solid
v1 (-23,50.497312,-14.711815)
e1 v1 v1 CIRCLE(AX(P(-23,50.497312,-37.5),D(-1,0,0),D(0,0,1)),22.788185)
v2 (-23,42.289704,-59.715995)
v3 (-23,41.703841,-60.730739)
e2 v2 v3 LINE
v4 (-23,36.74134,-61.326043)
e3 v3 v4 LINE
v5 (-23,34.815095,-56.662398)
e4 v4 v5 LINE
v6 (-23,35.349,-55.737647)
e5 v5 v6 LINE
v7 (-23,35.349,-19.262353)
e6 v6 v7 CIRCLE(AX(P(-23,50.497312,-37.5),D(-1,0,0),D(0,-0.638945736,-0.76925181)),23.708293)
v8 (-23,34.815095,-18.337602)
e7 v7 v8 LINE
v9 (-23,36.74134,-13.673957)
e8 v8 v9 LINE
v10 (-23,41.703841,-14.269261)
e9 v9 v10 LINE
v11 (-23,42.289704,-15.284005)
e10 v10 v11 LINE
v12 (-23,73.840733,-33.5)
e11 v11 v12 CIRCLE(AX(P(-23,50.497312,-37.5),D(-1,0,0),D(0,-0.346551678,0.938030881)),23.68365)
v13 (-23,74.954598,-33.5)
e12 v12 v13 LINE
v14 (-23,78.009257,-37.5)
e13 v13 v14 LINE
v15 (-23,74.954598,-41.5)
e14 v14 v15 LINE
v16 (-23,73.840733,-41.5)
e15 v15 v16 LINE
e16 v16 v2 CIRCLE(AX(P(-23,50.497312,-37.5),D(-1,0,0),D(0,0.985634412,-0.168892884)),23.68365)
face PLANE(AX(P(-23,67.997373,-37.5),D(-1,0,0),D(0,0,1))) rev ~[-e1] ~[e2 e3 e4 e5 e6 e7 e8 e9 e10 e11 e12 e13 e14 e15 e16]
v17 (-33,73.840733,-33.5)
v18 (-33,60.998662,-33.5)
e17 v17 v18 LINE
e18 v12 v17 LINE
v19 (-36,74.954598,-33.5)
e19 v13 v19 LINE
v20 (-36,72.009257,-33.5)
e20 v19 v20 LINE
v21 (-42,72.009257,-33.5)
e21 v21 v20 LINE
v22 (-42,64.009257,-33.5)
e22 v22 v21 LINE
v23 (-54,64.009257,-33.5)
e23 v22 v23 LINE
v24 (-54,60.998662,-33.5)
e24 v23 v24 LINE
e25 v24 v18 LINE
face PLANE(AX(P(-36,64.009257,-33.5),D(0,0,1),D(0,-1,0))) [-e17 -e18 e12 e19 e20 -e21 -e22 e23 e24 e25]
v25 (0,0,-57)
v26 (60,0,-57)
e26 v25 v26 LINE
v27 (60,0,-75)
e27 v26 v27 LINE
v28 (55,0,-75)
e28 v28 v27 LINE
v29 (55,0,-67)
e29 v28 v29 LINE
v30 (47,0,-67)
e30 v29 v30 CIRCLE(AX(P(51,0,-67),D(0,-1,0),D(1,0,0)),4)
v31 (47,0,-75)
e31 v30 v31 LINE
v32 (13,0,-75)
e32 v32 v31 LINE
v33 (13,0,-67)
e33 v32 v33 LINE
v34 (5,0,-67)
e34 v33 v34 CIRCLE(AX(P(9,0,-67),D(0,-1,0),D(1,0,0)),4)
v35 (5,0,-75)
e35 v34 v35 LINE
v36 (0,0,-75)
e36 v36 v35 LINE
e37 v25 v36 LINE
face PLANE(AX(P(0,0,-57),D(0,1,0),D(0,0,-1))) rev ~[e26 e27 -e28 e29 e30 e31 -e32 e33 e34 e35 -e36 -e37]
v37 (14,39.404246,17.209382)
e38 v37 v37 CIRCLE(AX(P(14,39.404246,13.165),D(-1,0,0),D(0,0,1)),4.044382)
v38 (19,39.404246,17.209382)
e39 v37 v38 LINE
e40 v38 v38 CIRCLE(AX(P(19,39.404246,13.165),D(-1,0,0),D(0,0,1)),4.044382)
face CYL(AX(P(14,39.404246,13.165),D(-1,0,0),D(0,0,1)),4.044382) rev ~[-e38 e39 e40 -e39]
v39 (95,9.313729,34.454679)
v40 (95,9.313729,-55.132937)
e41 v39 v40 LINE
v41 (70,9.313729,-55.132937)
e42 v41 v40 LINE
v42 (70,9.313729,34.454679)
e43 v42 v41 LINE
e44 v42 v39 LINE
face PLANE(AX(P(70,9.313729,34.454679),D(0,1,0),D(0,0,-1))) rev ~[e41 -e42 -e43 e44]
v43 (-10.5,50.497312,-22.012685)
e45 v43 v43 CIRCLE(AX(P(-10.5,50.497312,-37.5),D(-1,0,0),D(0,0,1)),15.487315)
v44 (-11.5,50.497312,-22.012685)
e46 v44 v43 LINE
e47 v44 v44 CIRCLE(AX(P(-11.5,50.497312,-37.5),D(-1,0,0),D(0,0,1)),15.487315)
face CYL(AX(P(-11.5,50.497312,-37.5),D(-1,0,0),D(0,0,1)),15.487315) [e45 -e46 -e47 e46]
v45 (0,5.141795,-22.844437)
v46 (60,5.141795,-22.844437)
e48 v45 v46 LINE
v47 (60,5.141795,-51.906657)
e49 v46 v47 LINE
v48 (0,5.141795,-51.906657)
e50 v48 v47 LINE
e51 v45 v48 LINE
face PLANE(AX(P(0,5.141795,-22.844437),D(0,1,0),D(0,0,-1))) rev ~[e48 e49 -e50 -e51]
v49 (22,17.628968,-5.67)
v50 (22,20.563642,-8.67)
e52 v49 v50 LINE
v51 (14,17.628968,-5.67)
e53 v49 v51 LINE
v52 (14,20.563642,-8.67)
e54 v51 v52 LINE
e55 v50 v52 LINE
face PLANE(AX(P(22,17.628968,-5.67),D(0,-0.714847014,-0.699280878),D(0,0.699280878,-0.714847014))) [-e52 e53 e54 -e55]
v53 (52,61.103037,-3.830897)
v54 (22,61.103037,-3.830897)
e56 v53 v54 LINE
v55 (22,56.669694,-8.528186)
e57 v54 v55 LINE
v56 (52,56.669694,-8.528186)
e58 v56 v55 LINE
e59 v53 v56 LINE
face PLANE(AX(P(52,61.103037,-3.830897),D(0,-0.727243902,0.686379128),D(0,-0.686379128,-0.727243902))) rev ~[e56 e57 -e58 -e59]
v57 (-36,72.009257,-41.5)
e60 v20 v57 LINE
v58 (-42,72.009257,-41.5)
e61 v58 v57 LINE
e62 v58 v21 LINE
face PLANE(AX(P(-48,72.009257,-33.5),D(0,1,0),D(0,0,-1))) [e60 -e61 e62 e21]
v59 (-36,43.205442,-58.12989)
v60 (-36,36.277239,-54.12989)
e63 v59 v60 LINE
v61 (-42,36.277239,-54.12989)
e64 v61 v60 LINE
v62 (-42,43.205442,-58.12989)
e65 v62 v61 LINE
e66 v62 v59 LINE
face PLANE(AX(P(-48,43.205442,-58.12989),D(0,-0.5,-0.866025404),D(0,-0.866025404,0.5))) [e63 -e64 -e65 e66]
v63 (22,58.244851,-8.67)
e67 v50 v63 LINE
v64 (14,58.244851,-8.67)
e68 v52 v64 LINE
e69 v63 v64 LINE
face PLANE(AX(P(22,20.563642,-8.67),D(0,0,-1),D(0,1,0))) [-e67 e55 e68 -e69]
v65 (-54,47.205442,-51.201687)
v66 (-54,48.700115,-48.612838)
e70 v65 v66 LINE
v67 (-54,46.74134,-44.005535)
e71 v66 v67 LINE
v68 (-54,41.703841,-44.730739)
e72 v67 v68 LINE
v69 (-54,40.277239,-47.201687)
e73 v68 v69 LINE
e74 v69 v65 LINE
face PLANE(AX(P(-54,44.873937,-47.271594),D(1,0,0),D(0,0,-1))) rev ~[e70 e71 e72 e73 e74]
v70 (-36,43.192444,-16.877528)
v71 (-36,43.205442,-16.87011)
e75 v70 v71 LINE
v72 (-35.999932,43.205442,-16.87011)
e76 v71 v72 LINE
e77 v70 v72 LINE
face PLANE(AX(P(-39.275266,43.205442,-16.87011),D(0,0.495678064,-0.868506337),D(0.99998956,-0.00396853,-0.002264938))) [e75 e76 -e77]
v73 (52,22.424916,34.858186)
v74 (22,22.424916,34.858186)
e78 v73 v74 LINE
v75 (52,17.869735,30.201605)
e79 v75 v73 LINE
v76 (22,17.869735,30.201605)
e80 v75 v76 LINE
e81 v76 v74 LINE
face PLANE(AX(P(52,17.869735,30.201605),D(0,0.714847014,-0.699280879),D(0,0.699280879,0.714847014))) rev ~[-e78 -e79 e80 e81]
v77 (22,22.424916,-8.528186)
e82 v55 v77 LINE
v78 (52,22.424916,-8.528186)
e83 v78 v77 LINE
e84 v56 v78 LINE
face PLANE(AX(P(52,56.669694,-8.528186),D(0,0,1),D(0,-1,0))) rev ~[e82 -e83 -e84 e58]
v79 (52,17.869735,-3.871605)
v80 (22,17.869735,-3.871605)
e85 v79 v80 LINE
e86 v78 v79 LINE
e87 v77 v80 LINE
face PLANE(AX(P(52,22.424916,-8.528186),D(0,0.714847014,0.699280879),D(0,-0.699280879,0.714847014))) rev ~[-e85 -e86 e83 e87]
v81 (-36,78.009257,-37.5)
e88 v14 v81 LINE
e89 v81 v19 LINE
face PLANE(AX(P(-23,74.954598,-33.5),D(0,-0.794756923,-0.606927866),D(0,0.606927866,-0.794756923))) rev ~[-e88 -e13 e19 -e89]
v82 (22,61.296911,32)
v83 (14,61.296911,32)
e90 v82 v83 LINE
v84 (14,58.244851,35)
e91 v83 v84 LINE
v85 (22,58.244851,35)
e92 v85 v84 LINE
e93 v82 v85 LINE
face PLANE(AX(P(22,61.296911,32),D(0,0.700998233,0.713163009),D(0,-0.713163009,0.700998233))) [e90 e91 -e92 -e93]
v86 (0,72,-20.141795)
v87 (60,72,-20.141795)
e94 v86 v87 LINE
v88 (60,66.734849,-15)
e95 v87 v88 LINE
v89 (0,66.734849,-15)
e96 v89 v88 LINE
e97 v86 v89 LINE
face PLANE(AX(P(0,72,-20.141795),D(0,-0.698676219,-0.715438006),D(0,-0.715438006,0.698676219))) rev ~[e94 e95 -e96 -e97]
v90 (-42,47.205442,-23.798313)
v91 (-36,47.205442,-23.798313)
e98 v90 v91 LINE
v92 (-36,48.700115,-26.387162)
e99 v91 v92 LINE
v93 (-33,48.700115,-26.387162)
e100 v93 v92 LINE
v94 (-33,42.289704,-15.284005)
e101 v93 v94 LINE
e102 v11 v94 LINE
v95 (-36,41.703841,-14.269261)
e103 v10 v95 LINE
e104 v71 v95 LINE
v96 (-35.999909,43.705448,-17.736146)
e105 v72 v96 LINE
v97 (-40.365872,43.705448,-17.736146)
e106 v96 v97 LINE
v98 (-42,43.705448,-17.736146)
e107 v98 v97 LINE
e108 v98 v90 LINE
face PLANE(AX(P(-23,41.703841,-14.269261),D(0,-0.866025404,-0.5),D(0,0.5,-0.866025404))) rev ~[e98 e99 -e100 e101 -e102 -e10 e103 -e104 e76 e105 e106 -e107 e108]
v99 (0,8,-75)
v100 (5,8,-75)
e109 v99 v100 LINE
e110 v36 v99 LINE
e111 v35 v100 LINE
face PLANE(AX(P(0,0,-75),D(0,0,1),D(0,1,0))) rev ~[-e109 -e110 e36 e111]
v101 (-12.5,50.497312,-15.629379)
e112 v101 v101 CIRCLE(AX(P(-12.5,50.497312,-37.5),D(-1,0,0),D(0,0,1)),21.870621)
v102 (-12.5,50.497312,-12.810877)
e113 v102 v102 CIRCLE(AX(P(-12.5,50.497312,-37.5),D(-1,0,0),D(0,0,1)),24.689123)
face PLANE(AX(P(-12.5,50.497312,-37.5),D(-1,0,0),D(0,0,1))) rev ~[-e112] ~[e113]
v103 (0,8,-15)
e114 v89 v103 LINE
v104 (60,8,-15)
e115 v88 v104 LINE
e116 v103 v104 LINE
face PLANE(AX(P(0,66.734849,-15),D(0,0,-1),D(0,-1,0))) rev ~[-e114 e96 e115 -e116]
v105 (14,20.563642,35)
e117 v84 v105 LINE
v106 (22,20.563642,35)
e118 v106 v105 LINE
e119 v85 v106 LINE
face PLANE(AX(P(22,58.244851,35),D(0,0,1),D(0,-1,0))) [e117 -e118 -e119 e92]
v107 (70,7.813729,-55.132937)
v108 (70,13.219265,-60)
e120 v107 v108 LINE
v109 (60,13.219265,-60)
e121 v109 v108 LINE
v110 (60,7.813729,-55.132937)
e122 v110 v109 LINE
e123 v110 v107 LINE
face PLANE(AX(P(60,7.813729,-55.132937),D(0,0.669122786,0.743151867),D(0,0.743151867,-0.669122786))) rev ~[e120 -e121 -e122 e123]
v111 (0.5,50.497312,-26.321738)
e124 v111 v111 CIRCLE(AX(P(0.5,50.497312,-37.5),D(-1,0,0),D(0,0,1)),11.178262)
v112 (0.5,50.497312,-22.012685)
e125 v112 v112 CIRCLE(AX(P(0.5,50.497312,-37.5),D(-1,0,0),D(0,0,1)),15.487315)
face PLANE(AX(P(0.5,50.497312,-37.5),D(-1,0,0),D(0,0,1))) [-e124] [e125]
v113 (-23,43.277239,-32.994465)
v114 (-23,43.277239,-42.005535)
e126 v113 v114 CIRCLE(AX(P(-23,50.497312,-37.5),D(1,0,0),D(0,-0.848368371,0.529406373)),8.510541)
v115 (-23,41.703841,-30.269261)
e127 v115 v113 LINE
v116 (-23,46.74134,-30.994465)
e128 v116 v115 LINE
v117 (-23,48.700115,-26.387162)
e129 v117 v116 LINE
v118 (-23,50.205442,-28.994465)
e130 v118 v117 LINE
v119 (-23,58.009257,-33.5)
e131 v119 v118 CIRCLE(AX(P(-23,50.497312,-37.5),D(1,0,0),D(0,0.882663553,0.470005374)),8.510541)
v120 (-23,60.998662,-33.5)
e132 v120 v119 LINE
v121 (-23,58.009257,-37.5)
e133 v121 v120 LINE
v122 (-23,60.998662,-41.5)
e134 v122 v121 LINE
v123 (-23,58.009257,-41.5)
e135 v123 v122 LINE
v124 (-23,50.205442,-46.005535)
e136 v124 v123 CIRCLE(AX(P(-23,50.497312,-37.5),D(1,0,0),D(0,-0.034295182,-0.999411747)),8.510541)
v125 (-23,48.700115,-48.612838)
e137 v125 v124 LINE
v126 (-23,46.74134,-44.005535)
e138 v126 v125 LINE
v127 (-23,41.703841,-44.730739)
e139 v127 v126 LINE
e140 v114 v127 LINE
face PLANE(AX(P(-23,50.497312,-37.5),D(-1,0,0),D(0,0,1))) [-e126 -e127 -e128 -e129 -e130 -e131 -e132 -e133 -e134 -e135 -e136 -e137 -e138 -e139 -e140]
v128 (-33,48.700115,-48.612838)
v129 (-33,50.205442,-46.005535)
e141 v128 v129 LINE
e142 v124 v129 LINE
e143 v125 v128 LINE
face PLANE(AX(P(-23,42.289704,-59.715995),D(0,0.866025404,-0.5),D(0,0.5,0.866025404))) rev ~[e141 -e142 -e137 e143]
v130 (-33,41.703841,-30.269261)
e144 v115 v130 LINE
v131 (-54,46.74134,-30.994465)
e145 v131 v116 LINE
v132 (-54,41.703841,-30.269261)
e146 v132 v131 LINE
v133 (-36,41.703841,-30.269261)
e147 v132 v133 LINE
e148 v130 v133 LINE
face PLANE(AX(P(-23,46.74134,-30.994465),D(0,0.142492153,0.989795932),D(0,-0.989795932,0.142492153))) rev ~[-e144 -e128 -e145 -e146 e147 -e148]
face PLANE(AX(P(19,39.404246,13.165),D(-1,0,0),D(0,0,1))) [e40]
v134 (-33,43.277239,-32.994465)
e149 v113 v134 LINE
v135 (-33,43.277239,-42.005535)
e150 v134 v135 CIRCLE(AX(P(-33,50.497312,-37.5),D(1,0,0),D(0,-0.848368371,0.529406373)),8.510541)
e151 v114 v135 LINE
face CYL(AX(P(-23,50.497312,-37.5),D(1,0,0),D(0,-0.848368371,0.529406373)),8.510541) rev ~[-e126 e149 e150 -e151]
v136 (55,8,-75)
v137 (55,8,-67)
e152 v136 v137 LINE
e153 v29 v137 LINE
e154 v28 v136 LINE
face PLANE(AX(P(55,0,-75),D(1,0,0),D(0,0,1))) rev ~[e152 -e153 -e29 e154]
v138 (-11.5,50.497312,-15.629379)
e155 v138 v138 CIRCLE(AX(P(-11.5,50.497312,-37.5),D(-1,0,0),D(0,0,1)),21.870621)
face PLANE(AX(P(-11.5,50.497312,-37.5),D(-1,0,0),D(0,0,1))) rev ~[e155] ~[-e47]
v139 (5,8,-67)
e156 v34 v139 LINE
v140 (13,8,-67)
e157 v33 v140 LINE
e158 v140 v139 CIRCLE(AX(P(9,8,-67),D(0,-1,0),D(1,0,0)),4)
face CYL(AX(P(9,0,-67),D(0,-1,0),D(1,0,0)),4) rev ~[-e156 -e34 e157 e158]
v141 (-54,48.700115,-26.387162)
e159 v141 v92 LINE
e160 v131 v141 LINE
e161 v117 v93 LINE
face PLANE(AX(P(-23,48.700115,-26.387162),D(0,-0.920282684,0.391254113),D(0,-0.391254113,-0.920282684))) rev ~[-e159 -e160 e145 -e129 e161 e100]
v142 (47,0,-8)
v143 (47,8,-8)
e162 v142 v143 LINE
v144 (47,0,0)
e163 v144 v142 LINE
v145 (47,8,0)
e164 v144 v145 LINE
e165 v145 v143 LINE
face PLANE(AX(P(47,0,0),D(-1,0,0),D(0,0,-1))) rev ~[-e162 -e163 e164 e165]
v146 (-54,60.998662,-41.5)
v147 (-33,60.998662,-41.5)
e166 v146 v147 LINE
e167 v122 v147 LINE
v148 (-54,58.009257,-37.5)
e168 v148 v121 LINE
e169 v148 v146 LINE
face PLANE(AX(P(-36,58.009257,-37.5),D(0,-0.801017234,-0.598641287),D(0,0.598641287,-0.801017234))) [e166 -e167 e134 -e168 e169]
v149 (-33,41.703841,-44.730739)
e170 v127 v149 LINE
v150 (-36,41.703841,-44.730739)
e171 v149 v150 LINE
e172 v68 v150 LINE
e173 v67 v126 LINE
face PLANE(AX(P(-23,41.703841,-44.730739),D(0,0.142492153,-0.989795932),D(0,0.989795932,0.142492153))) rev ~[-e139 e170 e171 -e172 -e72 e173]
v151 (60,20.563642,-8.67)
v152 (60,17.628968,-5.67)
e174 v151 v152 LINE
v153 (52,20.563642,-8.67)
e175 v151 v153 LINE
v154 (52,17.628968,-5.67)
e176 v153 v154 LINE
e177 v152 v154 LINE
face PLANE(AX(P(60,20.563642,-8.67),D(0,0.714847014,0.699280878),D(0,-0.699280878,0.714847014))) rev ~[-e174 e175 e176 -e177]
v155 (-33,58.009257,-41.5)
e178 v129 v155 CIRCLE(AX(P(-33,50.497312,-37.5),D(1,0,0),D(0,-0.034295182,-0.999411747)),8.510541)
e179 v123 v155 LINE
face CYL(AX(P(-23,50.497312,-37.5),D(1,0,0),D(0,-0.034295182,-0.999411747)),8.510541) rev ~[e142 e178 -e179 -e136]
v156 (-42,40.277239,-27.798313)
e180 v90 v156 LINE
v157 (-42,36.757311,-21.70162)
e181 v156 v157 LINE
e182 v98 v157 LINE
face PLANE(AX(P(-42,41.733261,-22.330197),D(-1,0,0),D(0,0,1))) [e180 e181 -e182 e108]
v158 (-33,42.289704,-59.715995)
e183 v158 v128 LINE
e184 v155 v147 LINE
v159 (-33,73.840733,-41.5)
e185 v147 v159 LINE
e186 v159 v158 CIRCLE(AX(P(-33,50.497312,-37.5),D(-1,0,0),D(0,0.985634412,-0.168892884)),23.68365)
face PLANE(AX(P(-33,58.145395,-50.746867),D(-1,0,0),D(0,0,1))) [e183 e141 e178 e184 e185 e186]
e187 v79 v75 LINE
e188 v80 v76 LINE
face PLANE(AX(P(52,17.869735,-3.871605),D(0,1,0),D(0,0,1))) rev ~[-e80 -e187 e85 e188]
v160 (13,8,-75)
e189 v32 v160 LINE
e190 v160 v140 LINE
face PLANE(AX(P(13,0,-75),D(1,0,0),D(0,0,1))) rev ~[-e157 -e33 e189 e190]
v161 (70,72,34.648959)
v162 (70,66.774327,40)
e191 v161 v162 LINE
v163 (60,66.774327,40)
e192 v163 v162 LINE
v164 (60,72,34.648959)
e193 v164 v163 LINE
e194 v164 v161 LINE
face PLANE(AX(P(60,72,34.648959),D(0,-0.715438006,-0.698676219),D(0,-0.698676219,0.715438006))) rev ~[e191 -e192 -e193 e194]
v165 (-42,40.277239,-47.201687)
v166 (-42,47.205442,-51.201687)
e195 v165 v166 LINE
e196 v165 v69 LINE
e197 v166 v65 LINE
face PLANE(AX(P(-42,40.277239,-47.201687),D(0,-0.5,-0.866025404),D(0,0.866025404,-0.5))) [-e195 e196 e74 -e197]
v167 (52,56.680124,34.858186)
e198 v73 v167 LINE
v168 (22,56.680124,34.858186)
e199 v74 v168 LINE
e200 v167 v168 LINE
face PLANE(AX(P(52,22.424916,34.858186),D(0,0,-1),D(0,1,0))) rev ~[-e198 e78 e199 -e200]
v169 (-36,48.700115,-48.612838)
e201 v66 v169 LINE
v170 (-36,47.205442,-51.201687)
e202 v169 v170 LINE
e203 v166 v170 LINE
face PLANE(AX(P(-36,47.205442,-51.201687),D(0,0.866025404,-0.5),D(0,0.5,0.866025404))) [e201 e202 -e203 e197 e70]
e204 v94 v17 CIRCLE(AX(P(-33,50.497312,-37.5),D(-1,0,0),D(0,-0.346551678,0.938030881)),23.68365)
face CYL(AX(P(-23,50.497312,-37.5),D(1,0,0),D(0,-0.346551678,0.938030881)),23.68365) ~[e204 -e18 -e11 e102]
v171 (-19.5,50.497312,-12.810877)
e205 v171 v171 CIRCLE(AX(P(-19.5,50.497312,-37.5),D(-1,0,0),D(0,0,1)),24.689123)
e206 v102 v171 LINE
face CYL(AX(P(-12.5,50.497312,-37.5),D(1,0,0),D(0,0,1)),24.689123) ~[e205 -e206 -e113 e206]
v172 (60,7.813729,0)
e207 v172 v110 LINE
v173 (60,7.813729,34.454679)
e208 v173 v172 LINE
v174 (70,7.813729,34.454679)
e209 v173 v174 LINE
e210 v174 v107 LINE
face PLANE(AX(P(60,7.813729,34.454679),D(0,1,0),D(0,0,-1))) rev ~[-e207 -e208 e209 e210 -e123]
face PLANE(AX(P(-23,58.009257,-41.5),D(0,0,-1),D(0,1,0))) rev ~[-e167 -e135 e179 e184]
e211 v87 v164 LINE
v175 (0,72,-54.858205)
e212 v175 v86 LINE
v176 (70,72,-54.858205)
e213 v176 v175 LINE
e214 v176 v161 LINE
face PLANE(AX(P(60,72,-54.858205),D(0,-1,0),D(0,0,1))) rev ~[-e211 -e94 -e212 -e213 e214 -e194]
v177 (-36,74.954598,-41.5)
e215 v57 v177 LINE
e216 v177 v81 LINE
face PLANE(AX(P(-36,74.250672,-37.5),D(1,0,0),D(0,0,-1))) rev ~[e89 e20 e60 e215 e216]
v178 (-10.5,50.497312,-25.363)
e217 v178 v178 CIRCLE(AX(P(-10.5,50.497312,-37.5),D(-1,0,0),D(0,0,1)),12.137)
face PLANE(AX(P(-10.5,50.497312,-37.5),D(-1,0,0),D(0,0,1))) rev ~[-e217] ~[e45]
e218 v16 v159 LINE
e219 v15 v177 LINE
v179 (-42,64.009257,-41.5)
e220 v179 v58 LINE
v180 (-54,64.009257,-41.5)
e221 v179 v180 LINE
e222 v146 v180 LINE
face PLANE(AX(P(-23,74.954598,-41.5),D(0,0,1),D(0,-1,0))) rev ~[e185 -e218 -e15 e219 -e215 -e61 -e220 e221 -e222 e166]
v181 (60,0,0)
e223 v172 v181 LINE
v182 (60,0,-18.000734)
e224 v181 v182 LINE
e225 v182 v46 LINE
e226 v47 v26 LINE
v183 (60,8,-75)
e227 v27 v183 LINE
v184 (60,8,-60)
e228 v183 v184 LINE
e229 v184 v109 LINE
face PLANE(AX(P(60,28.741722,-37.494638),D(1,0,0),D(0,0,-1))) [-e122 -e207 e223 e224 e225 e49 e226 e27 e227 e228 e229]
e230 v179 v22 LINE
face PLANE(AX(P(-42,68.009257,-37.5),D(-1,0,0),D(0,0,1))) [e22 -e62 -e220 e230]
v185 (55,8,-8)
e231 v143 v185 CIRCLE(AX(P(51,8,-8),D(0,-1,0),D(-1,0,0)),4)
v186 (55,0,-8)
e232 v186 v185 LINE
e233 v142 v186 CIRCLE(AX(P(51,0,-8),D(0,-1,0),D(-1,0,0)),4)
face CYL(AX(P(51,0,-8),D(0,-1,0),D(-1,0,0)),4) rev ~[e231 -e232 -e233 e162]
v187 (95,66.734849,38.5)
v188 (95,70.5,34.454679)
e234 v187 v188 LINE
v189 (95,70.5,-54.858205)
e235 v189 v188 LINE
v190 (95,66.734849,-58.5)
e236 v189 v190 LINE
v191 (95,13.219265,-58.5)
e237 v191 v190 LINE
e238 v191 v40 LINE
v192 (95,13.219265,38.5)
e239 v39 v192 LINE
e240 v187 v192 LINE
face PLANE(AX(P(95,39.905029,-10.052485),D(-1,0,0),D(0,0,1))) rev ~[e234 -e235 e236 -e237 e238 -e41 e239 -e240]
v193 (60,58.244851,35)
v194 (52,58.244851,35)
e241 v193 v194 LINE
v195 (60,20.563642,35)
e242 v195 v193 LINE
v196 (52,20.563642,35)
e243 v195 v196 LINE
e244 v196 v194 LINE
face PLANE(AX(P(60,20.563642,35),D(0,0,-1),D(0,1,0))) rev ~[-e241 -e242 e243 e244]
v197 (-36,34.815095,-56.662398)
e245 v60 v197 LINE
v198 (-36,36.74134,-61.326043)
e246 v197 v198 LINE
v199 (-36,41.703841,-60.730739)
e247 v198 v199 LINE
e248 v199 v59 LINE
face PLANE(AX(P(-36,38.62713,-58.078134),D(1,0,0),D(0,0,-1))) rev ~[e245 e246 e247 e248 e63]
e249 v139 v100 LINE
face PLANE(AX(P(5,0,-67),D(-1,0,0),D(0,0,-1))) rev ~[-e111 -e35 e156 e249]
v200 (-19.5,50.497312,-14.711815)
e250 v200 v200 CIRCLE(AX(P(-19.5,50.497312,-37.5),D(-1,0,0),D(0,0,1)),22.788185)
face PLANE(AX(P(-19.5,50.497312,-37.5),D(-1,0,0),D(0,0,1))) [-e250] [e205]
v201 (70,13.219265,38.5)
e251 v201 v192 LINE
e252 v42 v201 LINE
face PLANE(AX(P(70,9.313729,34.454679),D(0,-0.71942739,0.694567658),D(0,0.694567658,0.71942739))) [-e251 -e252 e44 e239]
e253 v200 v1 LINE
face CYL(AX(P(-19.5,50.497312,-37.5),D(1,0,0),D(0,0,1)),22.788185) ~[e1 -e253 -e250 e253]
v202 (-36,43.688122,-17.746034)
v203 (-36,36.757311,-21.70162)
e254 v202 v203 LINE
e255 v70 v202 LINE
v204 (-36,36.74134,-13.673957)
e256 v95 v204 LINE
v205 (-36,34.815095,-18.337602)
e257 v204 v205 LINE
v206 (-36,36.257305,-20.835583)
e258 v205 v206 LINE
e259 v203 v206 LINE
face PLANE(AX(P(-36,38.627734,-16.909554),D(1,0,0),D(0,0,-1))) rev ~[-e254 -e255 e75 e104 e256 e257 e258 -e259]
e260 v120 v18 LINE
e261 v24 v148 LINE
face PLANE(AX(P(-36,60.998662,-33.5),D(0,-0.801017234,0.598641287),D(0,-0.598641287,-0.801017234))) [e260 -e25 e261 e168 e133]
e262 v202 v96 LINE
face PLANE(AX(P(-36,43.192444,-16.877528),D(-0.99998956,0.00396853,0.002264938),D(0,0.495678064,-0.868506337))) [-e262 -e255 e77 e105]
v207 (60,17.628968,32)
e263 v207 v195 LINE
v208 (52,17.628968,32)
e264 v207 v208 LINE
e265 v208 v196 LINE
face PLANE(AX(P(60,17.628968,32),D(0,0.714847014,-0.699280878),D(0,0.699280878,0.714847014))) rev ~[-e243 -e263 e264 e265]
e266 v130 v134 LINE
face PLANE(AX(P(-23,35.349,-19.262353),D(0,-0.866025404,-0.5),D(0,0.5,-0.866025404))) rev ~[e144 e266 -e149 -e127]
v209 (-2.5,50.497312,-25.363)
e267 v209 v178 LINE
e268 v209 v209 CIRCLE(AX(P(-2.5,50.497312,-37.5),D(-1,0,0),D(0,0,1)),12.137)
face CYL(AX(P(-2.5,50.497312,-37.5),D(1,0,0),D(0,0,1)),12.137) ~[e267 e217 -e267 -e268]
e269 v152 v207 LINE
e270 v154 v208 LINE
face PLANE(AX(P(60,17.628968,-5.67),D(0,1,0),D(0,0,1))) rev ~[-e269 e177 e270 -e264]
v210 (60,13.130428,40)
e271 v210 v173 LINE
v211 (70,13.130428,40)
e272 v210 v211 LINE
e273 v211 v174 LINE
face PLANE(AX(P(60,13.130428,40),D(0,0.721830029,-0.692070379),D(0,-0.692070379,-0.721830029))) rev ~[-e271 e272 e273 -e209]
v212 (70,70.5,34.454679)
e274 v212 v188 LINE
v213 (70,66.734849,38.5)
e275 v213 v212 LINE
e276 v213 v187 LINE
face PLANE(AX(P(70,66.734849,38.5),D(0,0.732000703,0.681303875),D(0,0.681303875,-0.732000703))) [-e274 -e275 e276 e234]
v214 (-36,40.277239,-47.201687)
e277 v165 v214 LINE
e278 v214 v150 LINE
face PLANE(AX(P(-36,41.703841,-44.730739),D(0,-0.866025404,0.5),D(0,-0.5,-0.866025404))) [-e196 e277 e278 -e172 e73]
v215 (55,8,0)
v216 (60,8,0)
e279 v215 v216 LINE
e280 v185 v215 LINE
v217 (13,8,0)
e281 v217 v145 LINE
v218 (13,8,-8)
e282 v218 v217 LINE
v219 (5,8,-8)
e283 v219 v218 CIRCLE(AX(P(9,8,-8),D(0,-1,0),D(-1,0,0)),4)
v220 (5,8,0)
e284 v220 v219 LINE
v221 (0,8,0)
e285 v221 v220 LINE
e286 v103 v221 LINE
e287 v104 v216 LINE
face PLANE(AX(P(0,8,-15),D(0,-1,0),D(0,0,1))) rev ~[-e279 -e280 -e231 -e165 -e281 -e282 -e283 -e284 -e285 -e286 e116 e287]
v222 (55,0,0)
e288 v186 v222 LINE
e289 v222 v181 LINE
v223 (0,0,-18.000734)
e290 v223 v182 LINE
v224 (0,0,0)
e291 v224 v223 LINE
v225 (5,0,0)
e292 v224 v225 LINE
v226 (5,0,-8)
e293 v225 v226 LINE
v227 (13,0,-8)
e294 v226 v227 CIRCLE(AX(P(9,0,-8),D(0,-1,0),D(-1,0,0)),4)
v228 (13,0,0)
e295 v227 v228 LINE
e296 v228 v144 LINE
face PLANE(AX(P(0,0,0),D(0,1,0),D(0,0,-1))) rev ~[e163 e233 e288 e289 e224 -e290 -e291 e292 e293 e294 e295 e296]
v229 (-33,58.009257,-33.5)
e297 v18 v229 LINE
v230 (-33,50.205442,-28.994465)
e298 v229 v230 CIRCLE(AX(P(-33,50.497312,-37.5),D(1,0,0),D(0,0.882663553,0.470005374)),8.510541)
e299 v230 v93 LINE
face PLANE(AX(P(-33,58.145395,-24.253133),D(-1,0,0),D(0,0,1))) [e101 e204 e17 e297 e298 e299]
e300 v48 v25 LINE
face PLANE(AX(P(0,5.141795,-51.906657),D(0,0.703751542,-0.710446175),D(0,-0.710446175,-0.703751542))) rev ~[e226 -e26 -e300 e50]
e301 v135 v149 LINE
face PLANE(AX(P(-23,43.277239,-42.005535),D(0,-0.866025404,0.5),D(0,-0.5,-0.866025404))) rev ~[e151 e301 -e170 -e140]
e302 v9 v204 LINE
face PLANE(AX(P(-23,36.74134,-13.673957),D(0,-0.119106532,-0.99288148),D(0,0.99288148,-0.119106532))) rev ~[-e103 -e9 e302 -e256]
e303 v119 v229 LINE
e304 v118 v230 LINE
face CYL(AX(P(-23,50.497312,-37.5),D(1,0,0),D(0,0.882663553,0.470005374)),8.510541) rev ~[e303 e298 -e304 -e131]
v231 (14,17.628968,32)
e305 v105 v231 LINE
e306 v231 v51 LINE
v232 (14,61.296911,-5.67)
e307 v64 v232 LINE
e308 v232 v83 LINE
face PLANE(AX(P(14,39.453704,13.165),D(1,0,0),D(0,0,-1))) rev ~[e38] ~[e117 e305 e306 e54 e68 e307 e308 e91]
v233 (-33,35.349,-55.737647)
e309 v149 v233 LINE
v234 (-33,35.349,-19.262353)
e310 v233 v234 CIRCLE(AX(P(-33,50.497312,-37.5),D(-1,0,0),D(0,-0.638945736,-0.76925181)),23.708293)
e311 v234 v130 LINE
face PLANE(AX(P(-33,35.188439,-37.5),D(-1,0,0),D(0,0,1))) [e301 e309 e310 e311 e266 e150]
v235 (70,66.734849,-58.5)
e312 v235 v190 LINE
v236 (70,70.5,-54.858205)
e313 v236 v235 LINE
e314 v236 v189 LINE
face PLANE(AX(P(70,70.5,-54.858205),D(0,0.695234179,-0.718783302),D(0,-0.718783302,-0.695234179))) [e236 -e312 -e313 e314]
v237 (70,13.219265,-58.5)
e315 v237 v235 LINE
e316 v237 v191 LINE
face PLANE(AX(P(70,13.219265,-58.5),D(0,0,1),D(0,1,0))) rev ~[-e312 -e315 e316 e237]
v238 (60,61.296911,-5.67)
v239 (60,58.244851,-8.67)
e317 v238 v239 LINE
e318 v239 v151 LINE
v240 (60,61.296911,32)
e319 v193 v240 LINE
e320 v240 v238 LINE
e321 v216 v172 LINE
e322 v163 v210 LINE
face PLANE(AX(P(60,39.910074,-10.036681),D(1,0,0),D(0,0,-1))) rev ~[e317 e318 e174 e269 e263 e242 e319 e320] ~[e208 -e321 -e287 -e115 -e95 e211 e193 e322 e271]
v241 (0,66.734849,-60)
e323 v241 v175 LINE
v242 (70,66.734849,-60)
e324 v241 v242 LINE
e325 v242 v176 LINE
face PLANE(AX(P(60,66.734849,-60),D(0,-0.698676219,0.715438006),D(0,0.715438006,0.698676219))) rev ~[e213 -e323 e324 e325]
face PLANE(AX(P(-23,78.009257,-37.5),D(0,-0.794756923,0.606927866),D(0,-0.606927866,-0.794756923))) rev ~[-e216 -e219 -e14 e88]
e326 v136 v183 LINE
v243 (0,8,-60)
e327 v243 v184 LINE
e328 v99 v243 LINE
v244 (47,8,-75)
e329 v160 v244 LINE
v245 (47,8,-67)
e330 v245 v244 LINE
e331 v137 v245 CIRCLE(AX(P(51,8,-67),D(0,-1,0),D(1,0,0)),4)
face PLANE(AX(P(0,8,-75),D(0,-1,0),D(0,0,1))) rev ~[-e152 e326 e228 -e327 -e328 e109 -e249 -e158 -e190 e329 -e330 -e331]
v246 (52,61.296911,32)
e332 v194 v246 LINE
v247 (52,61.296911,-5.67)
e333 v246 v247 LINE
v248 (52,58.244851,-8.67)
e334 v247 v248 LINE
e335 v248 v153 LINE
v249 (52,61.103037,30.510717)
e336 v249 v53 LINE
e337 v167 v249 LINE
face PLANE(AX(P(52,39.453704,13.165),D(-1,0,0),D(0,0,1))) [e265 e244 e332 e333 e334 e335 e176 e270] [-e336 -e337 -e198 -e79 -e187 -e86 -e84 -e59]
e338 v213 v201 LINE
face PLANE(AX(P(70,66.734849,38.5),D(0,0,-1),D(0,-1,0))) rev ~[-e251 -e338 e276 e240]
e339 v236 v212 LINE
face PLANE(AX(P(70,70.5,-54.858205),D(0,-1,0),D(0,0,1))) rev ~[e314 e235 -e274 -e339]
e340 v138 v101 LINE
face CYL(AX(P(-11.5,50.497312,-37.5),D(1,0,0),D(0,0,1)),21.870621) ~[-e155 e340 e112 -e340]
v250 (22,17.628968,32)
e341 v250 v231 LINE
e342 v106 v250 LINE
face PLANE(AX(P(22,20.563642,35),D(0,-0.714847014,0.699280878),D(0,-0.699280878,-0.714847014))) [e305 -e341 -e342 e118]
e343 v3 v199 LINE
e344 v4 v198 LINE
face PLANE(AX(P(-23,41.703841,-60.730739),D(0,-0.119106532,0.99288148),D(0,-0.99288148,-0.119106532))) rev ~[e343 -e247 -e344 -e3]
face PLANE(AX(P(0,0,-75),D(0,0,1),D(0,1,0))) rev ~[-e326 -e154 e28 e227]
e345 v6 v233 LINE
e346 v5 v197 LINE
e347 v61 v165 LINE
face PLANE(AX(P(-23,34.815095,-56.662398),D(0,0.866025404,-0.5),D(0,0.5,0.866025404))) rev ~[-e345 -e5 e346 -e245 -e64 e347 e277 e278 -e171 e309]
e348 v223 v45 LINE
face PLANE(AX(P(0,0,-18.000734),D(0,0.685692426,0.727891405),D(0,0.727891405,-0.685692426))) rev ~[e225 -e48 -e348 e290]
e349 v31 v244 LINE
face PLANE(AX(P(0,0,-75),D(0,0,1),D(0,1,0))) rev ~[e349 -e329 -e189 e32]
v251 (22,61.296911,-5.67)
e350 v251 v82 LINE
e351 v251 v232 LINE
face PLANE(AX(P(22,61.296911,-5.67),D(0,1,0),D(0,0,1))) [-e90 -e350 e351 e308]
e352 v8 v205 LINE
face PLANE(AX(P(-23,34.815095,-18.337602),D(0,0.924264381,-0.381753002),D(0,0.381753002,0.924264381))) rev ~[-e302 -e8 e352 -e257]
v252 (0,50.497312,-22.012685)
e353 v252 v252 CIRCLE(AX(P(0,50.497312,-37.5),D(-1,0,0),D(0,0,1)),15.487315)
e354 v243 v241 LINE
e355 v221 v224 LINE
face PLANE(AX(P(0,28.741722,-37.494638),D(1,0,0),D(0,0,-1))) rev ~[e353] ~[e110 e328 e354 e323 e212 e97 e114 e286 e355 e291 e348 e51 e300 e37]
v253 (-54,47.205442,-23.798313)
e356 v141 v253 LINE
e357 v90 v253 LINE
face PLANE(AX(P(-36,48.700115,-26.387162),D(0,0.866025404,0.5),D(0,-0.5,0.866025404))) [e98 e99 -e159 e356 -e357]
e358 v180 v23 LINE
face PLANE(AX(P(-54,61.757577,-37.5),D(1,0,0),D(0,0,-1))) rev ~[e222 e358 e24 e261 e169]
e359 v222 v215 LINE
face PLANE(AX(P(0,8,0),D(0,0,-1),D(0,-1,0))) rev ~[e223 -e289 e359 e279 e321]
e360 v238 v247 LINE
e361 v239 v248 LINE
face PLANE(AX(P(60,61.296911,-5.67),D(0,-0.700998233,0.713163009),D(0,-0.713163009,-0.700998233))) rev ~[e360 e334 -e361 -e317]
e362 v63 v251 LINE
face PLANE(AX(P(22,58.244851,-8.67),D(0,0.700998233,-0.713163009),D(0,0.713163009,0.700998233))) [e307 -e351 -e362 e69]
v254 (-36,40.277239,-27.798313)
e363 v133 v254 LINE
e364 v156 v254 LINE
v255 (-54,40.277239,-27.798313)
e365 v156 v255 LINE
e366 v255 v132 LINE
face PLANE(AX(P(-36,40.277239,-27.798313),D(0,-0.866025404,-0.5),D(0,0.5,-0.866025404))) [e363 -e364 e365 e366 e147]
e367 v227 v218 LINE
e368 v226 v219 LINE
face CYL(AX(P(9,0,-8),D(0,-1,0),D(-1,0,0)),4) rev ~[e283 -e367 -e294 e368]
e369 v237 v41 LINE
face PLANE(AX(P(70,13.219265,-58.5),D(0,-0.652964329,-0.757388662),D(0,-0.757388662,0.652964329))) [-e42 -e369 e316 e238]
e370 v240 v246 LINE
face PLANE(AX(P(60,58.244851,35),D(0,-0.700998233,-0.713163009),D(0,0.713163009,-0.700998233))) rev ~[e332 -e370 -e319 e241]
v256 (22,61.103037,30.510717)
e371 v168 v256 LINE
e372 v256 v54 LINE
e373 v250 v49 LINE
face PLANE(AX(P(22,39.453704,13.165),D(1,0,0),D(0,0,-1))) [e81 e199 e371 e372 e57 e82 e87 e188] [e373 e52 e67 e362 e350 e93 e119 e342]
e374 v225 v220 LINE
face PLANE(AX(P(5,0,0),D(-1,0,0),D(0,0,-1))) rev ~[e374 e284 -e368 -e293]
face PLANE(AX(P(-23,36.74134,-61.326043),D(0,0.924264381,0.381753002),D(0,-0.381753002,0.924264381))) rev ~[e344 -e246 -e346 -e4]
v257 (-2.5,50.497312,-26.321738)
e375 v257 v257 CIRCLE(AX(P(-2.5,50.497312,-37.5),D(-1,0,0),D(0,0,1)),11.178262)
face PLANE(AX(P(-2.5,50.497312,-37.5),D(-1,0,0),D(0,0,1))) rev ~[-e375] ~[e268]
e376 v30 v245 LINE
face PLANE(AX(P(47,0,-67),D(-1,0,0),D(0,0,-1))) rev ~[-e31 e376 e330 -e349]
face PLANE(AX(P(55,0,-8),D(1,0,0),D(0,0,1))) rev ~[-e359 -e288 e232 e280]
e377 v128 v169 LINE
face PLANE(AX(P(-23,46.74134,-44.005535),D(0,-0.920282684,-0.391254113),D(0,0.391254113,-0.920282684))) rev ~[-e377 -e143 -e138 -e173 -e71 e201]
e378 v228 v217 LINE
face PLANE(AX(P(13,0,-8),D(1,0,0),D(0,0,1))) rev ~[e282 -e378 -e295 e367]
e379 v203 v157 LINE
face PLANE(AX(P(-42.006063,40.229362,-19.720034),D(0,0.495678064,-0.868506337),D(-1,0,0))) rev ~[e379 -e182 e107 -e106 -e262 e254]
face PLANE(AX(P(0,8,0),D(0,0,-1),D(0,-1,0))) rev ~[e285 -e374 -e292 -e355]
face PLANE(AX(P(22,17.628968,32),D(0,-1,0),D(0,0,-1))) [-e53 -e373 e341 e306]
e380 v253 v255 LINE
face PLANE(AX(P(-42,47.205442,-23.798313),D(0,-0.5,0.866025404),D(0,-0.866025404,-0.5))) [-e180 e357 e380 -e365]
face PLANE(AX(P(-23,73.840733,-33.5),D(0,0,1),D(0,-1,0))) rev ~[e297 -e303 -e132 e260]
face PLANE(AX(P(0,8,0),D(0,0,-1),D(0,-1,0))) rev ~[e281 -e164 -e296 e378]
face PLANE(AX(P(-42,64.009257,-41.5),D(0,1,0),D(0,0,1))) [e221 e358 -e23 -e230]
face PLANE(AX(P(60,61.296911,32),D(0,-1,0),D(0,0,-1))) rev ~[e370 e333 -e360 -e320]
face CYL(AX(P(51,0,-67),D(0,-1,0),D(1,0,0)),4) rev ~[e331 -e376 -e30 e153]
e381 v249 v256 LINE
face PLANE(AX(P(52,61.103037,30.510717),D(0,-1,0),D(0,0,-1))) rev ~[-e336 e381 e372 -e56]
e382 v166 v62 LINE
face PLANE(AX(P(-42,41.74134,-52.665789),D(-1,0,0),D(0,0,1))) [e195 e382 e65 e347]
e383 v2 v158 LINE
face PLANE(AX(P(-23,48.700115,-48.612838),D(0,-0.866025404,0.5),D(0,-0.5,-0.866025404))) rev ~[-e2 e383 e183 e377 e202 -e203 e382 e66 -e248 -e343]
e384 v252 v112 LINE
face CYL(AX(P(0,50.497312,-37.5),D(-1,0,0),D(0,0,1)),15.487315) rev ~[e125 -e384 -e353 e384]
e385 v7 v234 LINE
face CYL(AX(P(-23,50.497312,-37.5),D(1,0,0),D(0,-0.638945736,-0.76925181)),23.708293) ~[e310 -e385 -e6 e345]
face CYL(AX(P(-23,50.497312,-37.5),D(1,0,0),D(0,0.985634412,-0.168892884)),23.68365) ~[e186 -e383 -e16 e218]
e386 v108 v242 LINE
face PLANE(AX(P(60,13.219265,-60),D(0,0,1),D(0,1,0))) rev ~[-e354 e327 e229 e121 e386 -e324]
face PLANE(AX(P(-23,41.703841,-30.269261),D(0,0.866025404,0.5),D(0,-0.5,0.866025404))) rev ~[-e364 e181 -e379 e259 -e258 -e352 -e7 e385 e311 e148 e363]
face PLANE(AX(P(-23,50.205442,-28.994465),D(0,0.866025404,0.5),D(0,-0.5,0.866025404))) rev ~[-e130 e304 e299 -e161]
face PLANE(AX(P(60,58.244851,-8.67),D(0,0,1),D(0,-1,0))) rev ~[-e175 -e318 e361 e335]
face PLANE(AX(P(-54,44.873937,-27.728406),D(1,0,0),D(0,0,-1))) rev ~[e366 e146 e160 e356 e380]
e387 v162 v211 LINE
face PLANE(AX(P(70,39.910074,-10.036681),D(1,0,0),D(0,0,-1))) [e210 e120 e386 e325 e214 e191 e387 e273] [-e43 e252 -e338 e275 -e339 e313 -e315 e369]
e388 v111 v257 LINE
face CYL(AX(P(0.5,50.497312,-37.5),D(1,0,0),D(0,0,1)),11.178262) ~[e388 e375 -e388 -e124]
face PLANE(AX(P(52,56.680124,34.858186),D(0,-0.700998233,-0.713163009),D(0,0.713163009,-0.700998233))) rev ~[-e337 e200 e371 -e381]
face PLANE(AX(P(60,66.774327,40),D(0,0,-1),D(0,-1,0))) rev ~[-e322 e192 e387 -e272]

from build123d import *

# Parameters (mm, degrees)
BOSS_EXTRUDE1_DEPTH    = 60
CUT_EXTRUDE1_DEPTH     = 121.037494142
BOSS_EXTRUDE5_DEPTH    = 10
BOSS_EXTRUDE6_DEPTH    = 25
BOSS_EXTRUDE7_DEPTH    = 8
BOSS_EXTRUDE8_DEPTH    = 30
BOSS_EXTRUDE9_DEPTH    = 8
SKETCH8_R              = 4.044381725
CUT_EXTRUDE2_DEPTH     = 5
SKETCH9_R              = 15.487315424
CUT_EXTRUDE3_DEPTH     = 0.5
SKETCH10_R             = 11.178262473
BOSS_EXTRUDE10_DEPTH   = 3
SKETCH11_R             = 12.137000118
BOSS_EXTRUDE11_DEPTH   = 8
BOSS_EXTRUDE12_START   = 1
SKETCH12_R             = 15.487315424
BOSS_EXTRUDE12_DEPTH   = 1
SKETCH13_R             = 21.870620662
BOSS_EXTRUDE13_DEPTH   = 1
SKETCH14_R             = 24.68912304
BOSS_EXTRUDE14_DEPTH   = 7
SKETCH15_R             = 22.788184892
BOSS_EXTRUDE15_DEPTH   = 3.5
BOSS_EXTRUDE17_DEPTH   = 10
BOSS_EXTRUDE18_DEPTH   = 25
CUT_EXTRUDE4_DEPTH     = 12
CUT_EXTRUDE5_DEPTH     = 12
SKETCH20_W             = 8
SKETCH20_H             = 8
CUT_EXTRUDE6_DEPTH     = 6
BOSS_EXTRUDE19_DEPTH   = 12
BOSS_EXTRUDE19_2_DEPTH = 12
BOSS_EXTRUDE19_3_DEPTH = 12
CUT_EXTRUDE7_DEPTH     = 12
CUT_EXTRUDE8_DEPTH     = 1
CUT_EXTRUDE9_DEPTH     = 1
BOSS_EXTRUDE20_DEPTH   = 6


with BuildPart() as part:
    # Sketch1 → Boss-Extrude1 (new body)
    with BuildSketch(Plane(origin=(0, 0, 0), x_dir=(0, 0, -1), z_dir=(1, 0, 0))):
        Polygon((0, 8), (0, 0), (18.000733745, 0), (22.844437025, 5.141795141), (51.906656706, 5.141795141), (57, 0), (75, 0), (75, 8), (60, 8), (60, 66.734849184), (54.858204859, 72), (20.141795141, 72), (15, 66.734849184), (15, 8), align=None)
    extrude(amount=BOSS_EXTRUDE1_DEPTH)

    # Sketch2 → Cut-Extrude1 (cut, through all)
    with BuildSketch(Plane.XZ):
        with BuildLine():
            Line((55, -8), (55, 0))
            Line((55, 0), (47, 0))
            Line((47, 0), (47, -8))
            ThreePointArc((47, -8), (51, -12), (55, -8))
        make_face()
        with BuildLine():
            Line((13, 0), (5, 0))
            Line((5, 0), (5, -8))
            ThreePointArc((5, -8), (9, -12), (13, -8))
            Line((13, -8), (13, 0))
        make_face()
        with BuildLine():
            Line((47, -75), (55, -75))
            Line((55, -75), (55, -67))
            ThreePointArc((55, -67), (51, -63), (47, -67))
            Line((47, -67), (47, -75))
        make_face()
        with BuildLine():
            Line((5, -75), (13, -75))
            Line((13, -75), (13, -67))
            ThreePointArc((13, -67), (9, -63), (5, -67))
            Line((5, -67), (5, -75))
        make_face()
    extrude(amount=-CUT_EXTRUDE1_DEPTH, mode=Mode.SUBTRACT)

    # Sketch3 → Boss-Extrude5 (add)
    with BuildSketch(Plane(origin=(60, 0, 0), x_dir=(0, 0, -1), z_dir=(1, 0, 0))):
        Polygon((-40, 13.130427758), (-34.454678746, 7.813729324), (55.132936848, 7.813729324), (60, 13.21926496), (60, 66.734849184), (54.858204859, 72), (-34.64895923, 72), (-40, 66.774327195), align=None)
    extrude(amount=BOSS_EXTRUDE5_DEPTH)

    # Sketch4 → Boss-Extrude6 (add)
    with BuildSketch(Plane(origin=(70, 0, 0), x_dir=(0, 0, -1), z_dir=(1, 0, 0))):
        Polygon((-25.698394905, 70.5), (54.858204859, 70.5), (58.5, 66.734849184), (58.5, 39.977057072), (58.5, 13.21926496), (55.132936848, 9.313729324), (22.74008343, 9.313729324), (-34.454678746, 9.313729324), (-38.5, 13.21926496), (-38.5, 39.952377476), (-38.5, 66.734849184), (-34.454678746, 70.5), align=None)
    extrude(amount=BOSS_EXTRUDE6_DEPTH)

    # Sketch5 → Boss-Extrude7 (add)
    with BuildSketch(Plane.ZY.offset(-60)):
        Polygon((35, 20.563642038), (35, 58.244850637), (32, 61.296911147), (27.576585988, 61.296911147), (-5.67, 61.296911147), (-8.67, 58.244850637), (-8.67, 20.563642038), (-5.67, 17.628968471), (23.350656051, 17.628968471), (32, 17.628968471), align=None)
    extrude(amount=BOSS_EXTRUDE7_DEPTH)

    # Sketch6 → Boss-Extrude8 (add)
    with BuildSketch(Plane.ZY.offset(-52)):
        Polygon((34.858186176, 22.424916278), (34.858186176, 56.68012364), (30.510716808, 61.103036832), (-3.83089655, 61.103036832), (-8.528186176, 56.669693972), (-8.528186176, 22.424916278), (-3.871605337, 17.869734711), (30.201605337, 17.869734711), align=None)
    extrude(amount=BOSS_EXTRUDE8_DEPTH)

    # Sketch7 → Boss-Extrude9 (add)
    with BuildSketch(Plane.ZY.offset(-22)):
        Polygon((-8.67, 58.244850637), (-5.67, 61.296911147), (32, 61.296911147), (35, 58.244850637), (35, 20.563642038), (32, 17.628968471), (-5.67, 17.628968471), (-8.67, 20.563642038), align=None)
    extrude(amount=BOSS_EXTRUDE9_DEPTH)

    # Sketch8 → Cut-Extrude2 (cut)
    with BuildSketch(Plane.ZY.offset(-14)):
        with Locations((13.165, 39.404246338)):
            Circle(SKETCH8_R)
    extrude(amount=-CUT_EXTRUDE2_DEPTH, mode=Mode.SUBTRACT)

    # Sketch9 → Cut-Extrude3 (cut)
    with BuildSketch(Plane.ZY):
        with Locations((-37.5, 50.497312421)):
            Circle(SKETCH9_R)
    extrude(amount=-CUT_EXTRUDE3_DEPTH, mode=Mode.SUBTRACT)

    # Sketch10 → Boss-Extrude10 (add)
    with BuildSketch(Plane.ZY.offset(-0.5)):
        with Locations((-37.5, 50.497312421)):
            Circle(SKETCH10_R)
    extrude(amount=BOSS_EXTRUDE10_DEPTH)

    # Sketch11 → Boss-Extrude11 (add)
    with BuildSketch(Plane.ZY.offset(2.5)):
        with Locations((-37.5, 50.497312421)):
            Circle(SKETCH11_R)
    extrude(amount=BOSS_EXTRUDE11_DEPTH)

    # Sketch12 → Boss-Extrude12 (add)
    with BuildSketch(Plane.ZY.offset(10.5).offset(BOSS_EXTRUDE12_START)):
        with Locations((-37.5, 50.497312421)):
            Circle(SKETCH12_R)
    extrude(amount=-BOSS_EXTRUDE12_DEPTH)

    # Sketch13 → Boss-Extrude13 (add)
    with BuildSketch(Plane.ZY.offset(11.5)):
        with Locations((-37.5, 50.497312421)):
            Circle(SKETCH13_R)
    extrude(amount=BOSS_EXTRUDE13_DEPTH)

    # Sketch14 → Boss-Extrude14 (add)
    with BuildSketch(Plane.ZY.offset(12.5)):
        with Locations((-37.5, 50.497312421)):
            Circle(SKETCH14_R)
    extrude(amount=BOSS_EXTRUDE14_DEPTH)

    # Sketch15 → Boss-Extrude15 (add)
    with BuildSketch(Plane.ZY.offset(19.5)):
        with Locations((-37.5, 50.497312421)):
            Circle(SKETCH15_R)
    extrude(amount=BOSS_EXTRUDE15_DEPTH)

    # Sketch16 → Boss-Extrude17 (add)
    with BuildSketch(Plane.ZY.offset(23)):
        with BuildLine():
            ThreePointArc((-33.5, 58.009256763), (-30.12965531, 54.752582912), (-28.994465367, 50.205441864))
            Line((-28.994465367, 50.205441864), (-15.28400459, 42.289703644))
            ThreePointArc((-15.28400459, 42.289703644), (-16.989357143, 62.339137595), (-33.5, 73.840733204))
            Line((-33.5, 73.840733204), (-33.5, 58.009256763))
        make_face()
        with BuildLine():
            ThreePointArc((-46.005534633, 50.205441864), (-44.87034469, 54.752582912), (-41.5, 58.009256763))
            Line((-41.5, 58.009256763), (-41.5, 73.840733204))
            ThreePointArc((-41.5, 73.840733204), (-58.010642857, 62.339137595), (-59.71599541, 42.289703644))
            Line((-59.71599541, 42.289703644), (-46.005534633, 50.205441864))
        make_face()
        with BuildLine():
            ThreePointArc((-32.994465367, 43.277238634), (-37.5, 41.986771438), (-42.005534633, 43.277238634))
            Line((-42.005534633, 43.277238634), (-55.737647351, 35.34899966))
            ThreePointArc((-55.737647351, 35.34899966), (-37.5, 26.789019348), (-19.262352649, 35.34899966))
            Line((-19.262352649, 35.34899966), (-32.994465367, 43.277238634))
        make_face()
    extrude(amount=BOSS_EXTRUDE17_DEPTH)

    # Sketch17 → Boss-Extrude18 (add)
    with BuildSketch(Plane.ZY.offset(23)):
        Polygon((-41.5, 60.998662041), (-37.5, 58.009256763), (-33.5, 60.998662041), (-33.5, 74.954597667), (-37.5, 78.009256763), (-41.5, 74.954597667), align=None)
        Polygon((-26.387162336, 48.700114757), (-30.994465367, 46.741340249), (-30.269261267, 41.703841313), (-18.337601836, 34.815094529), (-13.673957292, 36.741340249), (-14.269261267, 41.703841313), align=None)
        Polygon((-44.730738733, 41.703841313), (-44.005534633, 46.741340249), (-48.612837664, 48.700114757), (-60.730738733, 41.703841313), (-61.326042708, 36.741340249), (-56.662398164, 34.815094529), align=None)
    extrude(amount=BOSS_EXTRUDE18_DEPTH)

    # Sketch18 → Cut-Extrude4 (cut)
    with BuildSketch(Plane.ZY.offset(48)):
        Polygon((-44.730738733, 41.703841313), (-44.005534633, 46.741340249), (-48.612837664, 48.700114757), (-51.201687055, 47.205441864), (-47.201687055, 40.277238634), align=None)
    extrude(amount=-CUT_EXTRUDE4_DEPTH, mode=Mode.SUBTRACT)

    # Sketch19 → Cut-Extrude5 (cut)
    with BuildSketch(Plane.ZY.offset(48)):
        Polygon((-26.387162336, 48.700114757), (-30.994465367, 46.741340249), (-30.269261267, 41.703841313), (-27.798312945, 40.277238634), (-23.798312945, 47.205441864), align=None)
        Polygon((-41.5, 60.998662041), (-37.5, 58.009256763), (-33.5, 60.998662041), (-33.5, 64.009256763), (-41.5, 64.009256763), align=None)
    extrude(amount=-CUT_EXTRUDE5_DEPTH, mode=Mode.SUBTRACT)

    # Sketch20 → Cut-Extrude6 (cut)
    with BuildSketch(Plane.ZY.offset(48)):
        with Locations((-37.5, 68.009256763)):
            Rectangle(SKETCH20_W, SKETCH20_H)
        Polygon((-20.835583463, 36.257304894), (-18.870109714, 39.741340249), (-16.870109714, 43.205441864), (-23.798312945, 47.205441864), (-27.798312945, 40.277238634), align=None)
        Polygon((-58.129890286, 43.205441864), (-54.129890286, 36.277238634), (-47.201687055, 40.277238634), (-51.201687055, 47.205441864), align=None)
    extrude(amount=-CUT_EXTRUDE6_DEPTH, mode=Mode.SUBTRACT)

    # Sketch22 → Cut-Extrude7 (cut)
    with BuildSketch(Plane.ZY.offset(48)):
        Polygon((-58.129890286, 43.205441864), (-54.129890286, 36.277238634), (-56.662398164, 34.815094529), (-61.326042708, 36.741340249), (-60.730738733, 41.703841313), align=None)
        Polygon((-20.835583463, 36.257304894), (-16.870109714, 43.205441864), (-14.269261267, 41.703841313), (-13.673957292, 36.741340249), (-18.337601836, 34.815094529), align=None)
        Polygon((-41.5, 74.954597667), (-37.5, 78.009256763), (-33.5, 74.954597667), (-33.5, 72.009256763), (-41.5, 72.009256763), align=None)
    extrude(amount=-CUT_EXTRUDE7_DEPTH, mode=Mode.SUBTRACT)

    # Sketch23 → Cut-Extrude8 (cut)
    with BuildSketch(Plane(origin=(0, 17.878010797, -31.325101527), x_dir=(1, 0, 0), z_dir=(0, -0.49567806364879385, 0.8685063368895948))):
        Polygon((-48, 29.201923716), (-36, 29.147090659), (-36, 21.147583248), (-48, 21.161957393), align=None)
    extrude(amount=-CUT_EXTRUDE8_DEPTH, mode=Mode.SUBTRACT)

    # Sketch24 → Cut-Extrude9 (cut)
    with BuildSketch(Plane(origin=(0.132430911, 25.171038803, 14.365734876), x_dir=(0.9999895603571438, -0.003968530082114351, -0.0022649383465402294), z_dir=(-0.00456937377835026, -0.8684972699936193, -0.4956728889468378))):
        Polygon((-40.498725216, -37.067786953), (-39.408108569, -36.067786953), (-36.132808125, -36.067786953), (-36.132808125, -37.067786953), align=None)
    extrude(amount=-CUT_EXTRUDE9_DEPTH, mode=Mode.SUBTRACT)



with BuildPart() as body_2:
    # Sketch21 → Boss-Extrude19 (new body)
    with BuildSketch(Plane.ZY.offset(42)):
        Polygon((-41.5, 64.009256763), (-33.5, 64.009256763), (-33.5, 60.998662041), (-37.5, 58.009256763), (-41.5, 60.998662041), align=None)
    extrude(amount=BOSS_EXTRUDE19_DEPTH)


with BuildPart() as body_3:
    # Sketch21 → Boss-Extrude19 2 (new body)
    with BuildSketch(Plane.ZY.offset(42)):
        Polygon((-26.387162336, 48.700114757), (-23.798312945, 47.205441864), (-27.798312945, 40.277238634), (-30.269261267, 41.703841313), (-30.994465367, 46.741340249), align=None)
    extrude(amount=BOSS_EXTRUDE19_2_DEPTH)


with BuildPart() as body_4:
    # Sketch21 → Boss-Extrude19 3 (new body)
    with BuildSketch(Plane.ZY.offset(42)):
        Polygon((-51.201687055, 47.205441864), (-48.612837664, 48.700114757), (-44.005534633, 46.741340249), (-44.730738733, 41.703841313), (-47.201687055, 40.277238634), align=None)
    extrude(amount=BOSS_EXTRUDE19_3_DEPTH)


with BuildPart() as part_1:
    add(part.part)

    add(body_2.part)  # Boss-Extrude20 merges body 2

    add(body_3.part)  # Boss-Extrude20 merges body 3

    add(body_4.part)  # Boss-Extrude20 merges body 4
    # Sketch26 → Boss-Extrude20 (add)
    with BuildSketch(Plane.ZY.offset(36)):
        Polygon((-41.5, 64.009256763), (-33.5, 64.009256763), (-33.5, 60.998662041), (-37.5, 58.009256763), (-41.5, 60.998662041), align=None)
        Polygon((-26.387162336, 48.700114757), (-23.798312945, 47.205441864), (-27.798312945, 40.277238634), (-30.269261267, 41.703841313), (-30.994465367, 46.741340249), align=None)
        Polygon((-51.201687055, 47.205441864), (-48.612837664, 48.700114757), (-44.005534633, 46.741340249), (-44.730738733, 41.703841313), (-47.201687055, 40.277238634), align=None)
    extrude(amount=BOSS_EXTRUDE20_DEPTH)


solid = part_1.part
